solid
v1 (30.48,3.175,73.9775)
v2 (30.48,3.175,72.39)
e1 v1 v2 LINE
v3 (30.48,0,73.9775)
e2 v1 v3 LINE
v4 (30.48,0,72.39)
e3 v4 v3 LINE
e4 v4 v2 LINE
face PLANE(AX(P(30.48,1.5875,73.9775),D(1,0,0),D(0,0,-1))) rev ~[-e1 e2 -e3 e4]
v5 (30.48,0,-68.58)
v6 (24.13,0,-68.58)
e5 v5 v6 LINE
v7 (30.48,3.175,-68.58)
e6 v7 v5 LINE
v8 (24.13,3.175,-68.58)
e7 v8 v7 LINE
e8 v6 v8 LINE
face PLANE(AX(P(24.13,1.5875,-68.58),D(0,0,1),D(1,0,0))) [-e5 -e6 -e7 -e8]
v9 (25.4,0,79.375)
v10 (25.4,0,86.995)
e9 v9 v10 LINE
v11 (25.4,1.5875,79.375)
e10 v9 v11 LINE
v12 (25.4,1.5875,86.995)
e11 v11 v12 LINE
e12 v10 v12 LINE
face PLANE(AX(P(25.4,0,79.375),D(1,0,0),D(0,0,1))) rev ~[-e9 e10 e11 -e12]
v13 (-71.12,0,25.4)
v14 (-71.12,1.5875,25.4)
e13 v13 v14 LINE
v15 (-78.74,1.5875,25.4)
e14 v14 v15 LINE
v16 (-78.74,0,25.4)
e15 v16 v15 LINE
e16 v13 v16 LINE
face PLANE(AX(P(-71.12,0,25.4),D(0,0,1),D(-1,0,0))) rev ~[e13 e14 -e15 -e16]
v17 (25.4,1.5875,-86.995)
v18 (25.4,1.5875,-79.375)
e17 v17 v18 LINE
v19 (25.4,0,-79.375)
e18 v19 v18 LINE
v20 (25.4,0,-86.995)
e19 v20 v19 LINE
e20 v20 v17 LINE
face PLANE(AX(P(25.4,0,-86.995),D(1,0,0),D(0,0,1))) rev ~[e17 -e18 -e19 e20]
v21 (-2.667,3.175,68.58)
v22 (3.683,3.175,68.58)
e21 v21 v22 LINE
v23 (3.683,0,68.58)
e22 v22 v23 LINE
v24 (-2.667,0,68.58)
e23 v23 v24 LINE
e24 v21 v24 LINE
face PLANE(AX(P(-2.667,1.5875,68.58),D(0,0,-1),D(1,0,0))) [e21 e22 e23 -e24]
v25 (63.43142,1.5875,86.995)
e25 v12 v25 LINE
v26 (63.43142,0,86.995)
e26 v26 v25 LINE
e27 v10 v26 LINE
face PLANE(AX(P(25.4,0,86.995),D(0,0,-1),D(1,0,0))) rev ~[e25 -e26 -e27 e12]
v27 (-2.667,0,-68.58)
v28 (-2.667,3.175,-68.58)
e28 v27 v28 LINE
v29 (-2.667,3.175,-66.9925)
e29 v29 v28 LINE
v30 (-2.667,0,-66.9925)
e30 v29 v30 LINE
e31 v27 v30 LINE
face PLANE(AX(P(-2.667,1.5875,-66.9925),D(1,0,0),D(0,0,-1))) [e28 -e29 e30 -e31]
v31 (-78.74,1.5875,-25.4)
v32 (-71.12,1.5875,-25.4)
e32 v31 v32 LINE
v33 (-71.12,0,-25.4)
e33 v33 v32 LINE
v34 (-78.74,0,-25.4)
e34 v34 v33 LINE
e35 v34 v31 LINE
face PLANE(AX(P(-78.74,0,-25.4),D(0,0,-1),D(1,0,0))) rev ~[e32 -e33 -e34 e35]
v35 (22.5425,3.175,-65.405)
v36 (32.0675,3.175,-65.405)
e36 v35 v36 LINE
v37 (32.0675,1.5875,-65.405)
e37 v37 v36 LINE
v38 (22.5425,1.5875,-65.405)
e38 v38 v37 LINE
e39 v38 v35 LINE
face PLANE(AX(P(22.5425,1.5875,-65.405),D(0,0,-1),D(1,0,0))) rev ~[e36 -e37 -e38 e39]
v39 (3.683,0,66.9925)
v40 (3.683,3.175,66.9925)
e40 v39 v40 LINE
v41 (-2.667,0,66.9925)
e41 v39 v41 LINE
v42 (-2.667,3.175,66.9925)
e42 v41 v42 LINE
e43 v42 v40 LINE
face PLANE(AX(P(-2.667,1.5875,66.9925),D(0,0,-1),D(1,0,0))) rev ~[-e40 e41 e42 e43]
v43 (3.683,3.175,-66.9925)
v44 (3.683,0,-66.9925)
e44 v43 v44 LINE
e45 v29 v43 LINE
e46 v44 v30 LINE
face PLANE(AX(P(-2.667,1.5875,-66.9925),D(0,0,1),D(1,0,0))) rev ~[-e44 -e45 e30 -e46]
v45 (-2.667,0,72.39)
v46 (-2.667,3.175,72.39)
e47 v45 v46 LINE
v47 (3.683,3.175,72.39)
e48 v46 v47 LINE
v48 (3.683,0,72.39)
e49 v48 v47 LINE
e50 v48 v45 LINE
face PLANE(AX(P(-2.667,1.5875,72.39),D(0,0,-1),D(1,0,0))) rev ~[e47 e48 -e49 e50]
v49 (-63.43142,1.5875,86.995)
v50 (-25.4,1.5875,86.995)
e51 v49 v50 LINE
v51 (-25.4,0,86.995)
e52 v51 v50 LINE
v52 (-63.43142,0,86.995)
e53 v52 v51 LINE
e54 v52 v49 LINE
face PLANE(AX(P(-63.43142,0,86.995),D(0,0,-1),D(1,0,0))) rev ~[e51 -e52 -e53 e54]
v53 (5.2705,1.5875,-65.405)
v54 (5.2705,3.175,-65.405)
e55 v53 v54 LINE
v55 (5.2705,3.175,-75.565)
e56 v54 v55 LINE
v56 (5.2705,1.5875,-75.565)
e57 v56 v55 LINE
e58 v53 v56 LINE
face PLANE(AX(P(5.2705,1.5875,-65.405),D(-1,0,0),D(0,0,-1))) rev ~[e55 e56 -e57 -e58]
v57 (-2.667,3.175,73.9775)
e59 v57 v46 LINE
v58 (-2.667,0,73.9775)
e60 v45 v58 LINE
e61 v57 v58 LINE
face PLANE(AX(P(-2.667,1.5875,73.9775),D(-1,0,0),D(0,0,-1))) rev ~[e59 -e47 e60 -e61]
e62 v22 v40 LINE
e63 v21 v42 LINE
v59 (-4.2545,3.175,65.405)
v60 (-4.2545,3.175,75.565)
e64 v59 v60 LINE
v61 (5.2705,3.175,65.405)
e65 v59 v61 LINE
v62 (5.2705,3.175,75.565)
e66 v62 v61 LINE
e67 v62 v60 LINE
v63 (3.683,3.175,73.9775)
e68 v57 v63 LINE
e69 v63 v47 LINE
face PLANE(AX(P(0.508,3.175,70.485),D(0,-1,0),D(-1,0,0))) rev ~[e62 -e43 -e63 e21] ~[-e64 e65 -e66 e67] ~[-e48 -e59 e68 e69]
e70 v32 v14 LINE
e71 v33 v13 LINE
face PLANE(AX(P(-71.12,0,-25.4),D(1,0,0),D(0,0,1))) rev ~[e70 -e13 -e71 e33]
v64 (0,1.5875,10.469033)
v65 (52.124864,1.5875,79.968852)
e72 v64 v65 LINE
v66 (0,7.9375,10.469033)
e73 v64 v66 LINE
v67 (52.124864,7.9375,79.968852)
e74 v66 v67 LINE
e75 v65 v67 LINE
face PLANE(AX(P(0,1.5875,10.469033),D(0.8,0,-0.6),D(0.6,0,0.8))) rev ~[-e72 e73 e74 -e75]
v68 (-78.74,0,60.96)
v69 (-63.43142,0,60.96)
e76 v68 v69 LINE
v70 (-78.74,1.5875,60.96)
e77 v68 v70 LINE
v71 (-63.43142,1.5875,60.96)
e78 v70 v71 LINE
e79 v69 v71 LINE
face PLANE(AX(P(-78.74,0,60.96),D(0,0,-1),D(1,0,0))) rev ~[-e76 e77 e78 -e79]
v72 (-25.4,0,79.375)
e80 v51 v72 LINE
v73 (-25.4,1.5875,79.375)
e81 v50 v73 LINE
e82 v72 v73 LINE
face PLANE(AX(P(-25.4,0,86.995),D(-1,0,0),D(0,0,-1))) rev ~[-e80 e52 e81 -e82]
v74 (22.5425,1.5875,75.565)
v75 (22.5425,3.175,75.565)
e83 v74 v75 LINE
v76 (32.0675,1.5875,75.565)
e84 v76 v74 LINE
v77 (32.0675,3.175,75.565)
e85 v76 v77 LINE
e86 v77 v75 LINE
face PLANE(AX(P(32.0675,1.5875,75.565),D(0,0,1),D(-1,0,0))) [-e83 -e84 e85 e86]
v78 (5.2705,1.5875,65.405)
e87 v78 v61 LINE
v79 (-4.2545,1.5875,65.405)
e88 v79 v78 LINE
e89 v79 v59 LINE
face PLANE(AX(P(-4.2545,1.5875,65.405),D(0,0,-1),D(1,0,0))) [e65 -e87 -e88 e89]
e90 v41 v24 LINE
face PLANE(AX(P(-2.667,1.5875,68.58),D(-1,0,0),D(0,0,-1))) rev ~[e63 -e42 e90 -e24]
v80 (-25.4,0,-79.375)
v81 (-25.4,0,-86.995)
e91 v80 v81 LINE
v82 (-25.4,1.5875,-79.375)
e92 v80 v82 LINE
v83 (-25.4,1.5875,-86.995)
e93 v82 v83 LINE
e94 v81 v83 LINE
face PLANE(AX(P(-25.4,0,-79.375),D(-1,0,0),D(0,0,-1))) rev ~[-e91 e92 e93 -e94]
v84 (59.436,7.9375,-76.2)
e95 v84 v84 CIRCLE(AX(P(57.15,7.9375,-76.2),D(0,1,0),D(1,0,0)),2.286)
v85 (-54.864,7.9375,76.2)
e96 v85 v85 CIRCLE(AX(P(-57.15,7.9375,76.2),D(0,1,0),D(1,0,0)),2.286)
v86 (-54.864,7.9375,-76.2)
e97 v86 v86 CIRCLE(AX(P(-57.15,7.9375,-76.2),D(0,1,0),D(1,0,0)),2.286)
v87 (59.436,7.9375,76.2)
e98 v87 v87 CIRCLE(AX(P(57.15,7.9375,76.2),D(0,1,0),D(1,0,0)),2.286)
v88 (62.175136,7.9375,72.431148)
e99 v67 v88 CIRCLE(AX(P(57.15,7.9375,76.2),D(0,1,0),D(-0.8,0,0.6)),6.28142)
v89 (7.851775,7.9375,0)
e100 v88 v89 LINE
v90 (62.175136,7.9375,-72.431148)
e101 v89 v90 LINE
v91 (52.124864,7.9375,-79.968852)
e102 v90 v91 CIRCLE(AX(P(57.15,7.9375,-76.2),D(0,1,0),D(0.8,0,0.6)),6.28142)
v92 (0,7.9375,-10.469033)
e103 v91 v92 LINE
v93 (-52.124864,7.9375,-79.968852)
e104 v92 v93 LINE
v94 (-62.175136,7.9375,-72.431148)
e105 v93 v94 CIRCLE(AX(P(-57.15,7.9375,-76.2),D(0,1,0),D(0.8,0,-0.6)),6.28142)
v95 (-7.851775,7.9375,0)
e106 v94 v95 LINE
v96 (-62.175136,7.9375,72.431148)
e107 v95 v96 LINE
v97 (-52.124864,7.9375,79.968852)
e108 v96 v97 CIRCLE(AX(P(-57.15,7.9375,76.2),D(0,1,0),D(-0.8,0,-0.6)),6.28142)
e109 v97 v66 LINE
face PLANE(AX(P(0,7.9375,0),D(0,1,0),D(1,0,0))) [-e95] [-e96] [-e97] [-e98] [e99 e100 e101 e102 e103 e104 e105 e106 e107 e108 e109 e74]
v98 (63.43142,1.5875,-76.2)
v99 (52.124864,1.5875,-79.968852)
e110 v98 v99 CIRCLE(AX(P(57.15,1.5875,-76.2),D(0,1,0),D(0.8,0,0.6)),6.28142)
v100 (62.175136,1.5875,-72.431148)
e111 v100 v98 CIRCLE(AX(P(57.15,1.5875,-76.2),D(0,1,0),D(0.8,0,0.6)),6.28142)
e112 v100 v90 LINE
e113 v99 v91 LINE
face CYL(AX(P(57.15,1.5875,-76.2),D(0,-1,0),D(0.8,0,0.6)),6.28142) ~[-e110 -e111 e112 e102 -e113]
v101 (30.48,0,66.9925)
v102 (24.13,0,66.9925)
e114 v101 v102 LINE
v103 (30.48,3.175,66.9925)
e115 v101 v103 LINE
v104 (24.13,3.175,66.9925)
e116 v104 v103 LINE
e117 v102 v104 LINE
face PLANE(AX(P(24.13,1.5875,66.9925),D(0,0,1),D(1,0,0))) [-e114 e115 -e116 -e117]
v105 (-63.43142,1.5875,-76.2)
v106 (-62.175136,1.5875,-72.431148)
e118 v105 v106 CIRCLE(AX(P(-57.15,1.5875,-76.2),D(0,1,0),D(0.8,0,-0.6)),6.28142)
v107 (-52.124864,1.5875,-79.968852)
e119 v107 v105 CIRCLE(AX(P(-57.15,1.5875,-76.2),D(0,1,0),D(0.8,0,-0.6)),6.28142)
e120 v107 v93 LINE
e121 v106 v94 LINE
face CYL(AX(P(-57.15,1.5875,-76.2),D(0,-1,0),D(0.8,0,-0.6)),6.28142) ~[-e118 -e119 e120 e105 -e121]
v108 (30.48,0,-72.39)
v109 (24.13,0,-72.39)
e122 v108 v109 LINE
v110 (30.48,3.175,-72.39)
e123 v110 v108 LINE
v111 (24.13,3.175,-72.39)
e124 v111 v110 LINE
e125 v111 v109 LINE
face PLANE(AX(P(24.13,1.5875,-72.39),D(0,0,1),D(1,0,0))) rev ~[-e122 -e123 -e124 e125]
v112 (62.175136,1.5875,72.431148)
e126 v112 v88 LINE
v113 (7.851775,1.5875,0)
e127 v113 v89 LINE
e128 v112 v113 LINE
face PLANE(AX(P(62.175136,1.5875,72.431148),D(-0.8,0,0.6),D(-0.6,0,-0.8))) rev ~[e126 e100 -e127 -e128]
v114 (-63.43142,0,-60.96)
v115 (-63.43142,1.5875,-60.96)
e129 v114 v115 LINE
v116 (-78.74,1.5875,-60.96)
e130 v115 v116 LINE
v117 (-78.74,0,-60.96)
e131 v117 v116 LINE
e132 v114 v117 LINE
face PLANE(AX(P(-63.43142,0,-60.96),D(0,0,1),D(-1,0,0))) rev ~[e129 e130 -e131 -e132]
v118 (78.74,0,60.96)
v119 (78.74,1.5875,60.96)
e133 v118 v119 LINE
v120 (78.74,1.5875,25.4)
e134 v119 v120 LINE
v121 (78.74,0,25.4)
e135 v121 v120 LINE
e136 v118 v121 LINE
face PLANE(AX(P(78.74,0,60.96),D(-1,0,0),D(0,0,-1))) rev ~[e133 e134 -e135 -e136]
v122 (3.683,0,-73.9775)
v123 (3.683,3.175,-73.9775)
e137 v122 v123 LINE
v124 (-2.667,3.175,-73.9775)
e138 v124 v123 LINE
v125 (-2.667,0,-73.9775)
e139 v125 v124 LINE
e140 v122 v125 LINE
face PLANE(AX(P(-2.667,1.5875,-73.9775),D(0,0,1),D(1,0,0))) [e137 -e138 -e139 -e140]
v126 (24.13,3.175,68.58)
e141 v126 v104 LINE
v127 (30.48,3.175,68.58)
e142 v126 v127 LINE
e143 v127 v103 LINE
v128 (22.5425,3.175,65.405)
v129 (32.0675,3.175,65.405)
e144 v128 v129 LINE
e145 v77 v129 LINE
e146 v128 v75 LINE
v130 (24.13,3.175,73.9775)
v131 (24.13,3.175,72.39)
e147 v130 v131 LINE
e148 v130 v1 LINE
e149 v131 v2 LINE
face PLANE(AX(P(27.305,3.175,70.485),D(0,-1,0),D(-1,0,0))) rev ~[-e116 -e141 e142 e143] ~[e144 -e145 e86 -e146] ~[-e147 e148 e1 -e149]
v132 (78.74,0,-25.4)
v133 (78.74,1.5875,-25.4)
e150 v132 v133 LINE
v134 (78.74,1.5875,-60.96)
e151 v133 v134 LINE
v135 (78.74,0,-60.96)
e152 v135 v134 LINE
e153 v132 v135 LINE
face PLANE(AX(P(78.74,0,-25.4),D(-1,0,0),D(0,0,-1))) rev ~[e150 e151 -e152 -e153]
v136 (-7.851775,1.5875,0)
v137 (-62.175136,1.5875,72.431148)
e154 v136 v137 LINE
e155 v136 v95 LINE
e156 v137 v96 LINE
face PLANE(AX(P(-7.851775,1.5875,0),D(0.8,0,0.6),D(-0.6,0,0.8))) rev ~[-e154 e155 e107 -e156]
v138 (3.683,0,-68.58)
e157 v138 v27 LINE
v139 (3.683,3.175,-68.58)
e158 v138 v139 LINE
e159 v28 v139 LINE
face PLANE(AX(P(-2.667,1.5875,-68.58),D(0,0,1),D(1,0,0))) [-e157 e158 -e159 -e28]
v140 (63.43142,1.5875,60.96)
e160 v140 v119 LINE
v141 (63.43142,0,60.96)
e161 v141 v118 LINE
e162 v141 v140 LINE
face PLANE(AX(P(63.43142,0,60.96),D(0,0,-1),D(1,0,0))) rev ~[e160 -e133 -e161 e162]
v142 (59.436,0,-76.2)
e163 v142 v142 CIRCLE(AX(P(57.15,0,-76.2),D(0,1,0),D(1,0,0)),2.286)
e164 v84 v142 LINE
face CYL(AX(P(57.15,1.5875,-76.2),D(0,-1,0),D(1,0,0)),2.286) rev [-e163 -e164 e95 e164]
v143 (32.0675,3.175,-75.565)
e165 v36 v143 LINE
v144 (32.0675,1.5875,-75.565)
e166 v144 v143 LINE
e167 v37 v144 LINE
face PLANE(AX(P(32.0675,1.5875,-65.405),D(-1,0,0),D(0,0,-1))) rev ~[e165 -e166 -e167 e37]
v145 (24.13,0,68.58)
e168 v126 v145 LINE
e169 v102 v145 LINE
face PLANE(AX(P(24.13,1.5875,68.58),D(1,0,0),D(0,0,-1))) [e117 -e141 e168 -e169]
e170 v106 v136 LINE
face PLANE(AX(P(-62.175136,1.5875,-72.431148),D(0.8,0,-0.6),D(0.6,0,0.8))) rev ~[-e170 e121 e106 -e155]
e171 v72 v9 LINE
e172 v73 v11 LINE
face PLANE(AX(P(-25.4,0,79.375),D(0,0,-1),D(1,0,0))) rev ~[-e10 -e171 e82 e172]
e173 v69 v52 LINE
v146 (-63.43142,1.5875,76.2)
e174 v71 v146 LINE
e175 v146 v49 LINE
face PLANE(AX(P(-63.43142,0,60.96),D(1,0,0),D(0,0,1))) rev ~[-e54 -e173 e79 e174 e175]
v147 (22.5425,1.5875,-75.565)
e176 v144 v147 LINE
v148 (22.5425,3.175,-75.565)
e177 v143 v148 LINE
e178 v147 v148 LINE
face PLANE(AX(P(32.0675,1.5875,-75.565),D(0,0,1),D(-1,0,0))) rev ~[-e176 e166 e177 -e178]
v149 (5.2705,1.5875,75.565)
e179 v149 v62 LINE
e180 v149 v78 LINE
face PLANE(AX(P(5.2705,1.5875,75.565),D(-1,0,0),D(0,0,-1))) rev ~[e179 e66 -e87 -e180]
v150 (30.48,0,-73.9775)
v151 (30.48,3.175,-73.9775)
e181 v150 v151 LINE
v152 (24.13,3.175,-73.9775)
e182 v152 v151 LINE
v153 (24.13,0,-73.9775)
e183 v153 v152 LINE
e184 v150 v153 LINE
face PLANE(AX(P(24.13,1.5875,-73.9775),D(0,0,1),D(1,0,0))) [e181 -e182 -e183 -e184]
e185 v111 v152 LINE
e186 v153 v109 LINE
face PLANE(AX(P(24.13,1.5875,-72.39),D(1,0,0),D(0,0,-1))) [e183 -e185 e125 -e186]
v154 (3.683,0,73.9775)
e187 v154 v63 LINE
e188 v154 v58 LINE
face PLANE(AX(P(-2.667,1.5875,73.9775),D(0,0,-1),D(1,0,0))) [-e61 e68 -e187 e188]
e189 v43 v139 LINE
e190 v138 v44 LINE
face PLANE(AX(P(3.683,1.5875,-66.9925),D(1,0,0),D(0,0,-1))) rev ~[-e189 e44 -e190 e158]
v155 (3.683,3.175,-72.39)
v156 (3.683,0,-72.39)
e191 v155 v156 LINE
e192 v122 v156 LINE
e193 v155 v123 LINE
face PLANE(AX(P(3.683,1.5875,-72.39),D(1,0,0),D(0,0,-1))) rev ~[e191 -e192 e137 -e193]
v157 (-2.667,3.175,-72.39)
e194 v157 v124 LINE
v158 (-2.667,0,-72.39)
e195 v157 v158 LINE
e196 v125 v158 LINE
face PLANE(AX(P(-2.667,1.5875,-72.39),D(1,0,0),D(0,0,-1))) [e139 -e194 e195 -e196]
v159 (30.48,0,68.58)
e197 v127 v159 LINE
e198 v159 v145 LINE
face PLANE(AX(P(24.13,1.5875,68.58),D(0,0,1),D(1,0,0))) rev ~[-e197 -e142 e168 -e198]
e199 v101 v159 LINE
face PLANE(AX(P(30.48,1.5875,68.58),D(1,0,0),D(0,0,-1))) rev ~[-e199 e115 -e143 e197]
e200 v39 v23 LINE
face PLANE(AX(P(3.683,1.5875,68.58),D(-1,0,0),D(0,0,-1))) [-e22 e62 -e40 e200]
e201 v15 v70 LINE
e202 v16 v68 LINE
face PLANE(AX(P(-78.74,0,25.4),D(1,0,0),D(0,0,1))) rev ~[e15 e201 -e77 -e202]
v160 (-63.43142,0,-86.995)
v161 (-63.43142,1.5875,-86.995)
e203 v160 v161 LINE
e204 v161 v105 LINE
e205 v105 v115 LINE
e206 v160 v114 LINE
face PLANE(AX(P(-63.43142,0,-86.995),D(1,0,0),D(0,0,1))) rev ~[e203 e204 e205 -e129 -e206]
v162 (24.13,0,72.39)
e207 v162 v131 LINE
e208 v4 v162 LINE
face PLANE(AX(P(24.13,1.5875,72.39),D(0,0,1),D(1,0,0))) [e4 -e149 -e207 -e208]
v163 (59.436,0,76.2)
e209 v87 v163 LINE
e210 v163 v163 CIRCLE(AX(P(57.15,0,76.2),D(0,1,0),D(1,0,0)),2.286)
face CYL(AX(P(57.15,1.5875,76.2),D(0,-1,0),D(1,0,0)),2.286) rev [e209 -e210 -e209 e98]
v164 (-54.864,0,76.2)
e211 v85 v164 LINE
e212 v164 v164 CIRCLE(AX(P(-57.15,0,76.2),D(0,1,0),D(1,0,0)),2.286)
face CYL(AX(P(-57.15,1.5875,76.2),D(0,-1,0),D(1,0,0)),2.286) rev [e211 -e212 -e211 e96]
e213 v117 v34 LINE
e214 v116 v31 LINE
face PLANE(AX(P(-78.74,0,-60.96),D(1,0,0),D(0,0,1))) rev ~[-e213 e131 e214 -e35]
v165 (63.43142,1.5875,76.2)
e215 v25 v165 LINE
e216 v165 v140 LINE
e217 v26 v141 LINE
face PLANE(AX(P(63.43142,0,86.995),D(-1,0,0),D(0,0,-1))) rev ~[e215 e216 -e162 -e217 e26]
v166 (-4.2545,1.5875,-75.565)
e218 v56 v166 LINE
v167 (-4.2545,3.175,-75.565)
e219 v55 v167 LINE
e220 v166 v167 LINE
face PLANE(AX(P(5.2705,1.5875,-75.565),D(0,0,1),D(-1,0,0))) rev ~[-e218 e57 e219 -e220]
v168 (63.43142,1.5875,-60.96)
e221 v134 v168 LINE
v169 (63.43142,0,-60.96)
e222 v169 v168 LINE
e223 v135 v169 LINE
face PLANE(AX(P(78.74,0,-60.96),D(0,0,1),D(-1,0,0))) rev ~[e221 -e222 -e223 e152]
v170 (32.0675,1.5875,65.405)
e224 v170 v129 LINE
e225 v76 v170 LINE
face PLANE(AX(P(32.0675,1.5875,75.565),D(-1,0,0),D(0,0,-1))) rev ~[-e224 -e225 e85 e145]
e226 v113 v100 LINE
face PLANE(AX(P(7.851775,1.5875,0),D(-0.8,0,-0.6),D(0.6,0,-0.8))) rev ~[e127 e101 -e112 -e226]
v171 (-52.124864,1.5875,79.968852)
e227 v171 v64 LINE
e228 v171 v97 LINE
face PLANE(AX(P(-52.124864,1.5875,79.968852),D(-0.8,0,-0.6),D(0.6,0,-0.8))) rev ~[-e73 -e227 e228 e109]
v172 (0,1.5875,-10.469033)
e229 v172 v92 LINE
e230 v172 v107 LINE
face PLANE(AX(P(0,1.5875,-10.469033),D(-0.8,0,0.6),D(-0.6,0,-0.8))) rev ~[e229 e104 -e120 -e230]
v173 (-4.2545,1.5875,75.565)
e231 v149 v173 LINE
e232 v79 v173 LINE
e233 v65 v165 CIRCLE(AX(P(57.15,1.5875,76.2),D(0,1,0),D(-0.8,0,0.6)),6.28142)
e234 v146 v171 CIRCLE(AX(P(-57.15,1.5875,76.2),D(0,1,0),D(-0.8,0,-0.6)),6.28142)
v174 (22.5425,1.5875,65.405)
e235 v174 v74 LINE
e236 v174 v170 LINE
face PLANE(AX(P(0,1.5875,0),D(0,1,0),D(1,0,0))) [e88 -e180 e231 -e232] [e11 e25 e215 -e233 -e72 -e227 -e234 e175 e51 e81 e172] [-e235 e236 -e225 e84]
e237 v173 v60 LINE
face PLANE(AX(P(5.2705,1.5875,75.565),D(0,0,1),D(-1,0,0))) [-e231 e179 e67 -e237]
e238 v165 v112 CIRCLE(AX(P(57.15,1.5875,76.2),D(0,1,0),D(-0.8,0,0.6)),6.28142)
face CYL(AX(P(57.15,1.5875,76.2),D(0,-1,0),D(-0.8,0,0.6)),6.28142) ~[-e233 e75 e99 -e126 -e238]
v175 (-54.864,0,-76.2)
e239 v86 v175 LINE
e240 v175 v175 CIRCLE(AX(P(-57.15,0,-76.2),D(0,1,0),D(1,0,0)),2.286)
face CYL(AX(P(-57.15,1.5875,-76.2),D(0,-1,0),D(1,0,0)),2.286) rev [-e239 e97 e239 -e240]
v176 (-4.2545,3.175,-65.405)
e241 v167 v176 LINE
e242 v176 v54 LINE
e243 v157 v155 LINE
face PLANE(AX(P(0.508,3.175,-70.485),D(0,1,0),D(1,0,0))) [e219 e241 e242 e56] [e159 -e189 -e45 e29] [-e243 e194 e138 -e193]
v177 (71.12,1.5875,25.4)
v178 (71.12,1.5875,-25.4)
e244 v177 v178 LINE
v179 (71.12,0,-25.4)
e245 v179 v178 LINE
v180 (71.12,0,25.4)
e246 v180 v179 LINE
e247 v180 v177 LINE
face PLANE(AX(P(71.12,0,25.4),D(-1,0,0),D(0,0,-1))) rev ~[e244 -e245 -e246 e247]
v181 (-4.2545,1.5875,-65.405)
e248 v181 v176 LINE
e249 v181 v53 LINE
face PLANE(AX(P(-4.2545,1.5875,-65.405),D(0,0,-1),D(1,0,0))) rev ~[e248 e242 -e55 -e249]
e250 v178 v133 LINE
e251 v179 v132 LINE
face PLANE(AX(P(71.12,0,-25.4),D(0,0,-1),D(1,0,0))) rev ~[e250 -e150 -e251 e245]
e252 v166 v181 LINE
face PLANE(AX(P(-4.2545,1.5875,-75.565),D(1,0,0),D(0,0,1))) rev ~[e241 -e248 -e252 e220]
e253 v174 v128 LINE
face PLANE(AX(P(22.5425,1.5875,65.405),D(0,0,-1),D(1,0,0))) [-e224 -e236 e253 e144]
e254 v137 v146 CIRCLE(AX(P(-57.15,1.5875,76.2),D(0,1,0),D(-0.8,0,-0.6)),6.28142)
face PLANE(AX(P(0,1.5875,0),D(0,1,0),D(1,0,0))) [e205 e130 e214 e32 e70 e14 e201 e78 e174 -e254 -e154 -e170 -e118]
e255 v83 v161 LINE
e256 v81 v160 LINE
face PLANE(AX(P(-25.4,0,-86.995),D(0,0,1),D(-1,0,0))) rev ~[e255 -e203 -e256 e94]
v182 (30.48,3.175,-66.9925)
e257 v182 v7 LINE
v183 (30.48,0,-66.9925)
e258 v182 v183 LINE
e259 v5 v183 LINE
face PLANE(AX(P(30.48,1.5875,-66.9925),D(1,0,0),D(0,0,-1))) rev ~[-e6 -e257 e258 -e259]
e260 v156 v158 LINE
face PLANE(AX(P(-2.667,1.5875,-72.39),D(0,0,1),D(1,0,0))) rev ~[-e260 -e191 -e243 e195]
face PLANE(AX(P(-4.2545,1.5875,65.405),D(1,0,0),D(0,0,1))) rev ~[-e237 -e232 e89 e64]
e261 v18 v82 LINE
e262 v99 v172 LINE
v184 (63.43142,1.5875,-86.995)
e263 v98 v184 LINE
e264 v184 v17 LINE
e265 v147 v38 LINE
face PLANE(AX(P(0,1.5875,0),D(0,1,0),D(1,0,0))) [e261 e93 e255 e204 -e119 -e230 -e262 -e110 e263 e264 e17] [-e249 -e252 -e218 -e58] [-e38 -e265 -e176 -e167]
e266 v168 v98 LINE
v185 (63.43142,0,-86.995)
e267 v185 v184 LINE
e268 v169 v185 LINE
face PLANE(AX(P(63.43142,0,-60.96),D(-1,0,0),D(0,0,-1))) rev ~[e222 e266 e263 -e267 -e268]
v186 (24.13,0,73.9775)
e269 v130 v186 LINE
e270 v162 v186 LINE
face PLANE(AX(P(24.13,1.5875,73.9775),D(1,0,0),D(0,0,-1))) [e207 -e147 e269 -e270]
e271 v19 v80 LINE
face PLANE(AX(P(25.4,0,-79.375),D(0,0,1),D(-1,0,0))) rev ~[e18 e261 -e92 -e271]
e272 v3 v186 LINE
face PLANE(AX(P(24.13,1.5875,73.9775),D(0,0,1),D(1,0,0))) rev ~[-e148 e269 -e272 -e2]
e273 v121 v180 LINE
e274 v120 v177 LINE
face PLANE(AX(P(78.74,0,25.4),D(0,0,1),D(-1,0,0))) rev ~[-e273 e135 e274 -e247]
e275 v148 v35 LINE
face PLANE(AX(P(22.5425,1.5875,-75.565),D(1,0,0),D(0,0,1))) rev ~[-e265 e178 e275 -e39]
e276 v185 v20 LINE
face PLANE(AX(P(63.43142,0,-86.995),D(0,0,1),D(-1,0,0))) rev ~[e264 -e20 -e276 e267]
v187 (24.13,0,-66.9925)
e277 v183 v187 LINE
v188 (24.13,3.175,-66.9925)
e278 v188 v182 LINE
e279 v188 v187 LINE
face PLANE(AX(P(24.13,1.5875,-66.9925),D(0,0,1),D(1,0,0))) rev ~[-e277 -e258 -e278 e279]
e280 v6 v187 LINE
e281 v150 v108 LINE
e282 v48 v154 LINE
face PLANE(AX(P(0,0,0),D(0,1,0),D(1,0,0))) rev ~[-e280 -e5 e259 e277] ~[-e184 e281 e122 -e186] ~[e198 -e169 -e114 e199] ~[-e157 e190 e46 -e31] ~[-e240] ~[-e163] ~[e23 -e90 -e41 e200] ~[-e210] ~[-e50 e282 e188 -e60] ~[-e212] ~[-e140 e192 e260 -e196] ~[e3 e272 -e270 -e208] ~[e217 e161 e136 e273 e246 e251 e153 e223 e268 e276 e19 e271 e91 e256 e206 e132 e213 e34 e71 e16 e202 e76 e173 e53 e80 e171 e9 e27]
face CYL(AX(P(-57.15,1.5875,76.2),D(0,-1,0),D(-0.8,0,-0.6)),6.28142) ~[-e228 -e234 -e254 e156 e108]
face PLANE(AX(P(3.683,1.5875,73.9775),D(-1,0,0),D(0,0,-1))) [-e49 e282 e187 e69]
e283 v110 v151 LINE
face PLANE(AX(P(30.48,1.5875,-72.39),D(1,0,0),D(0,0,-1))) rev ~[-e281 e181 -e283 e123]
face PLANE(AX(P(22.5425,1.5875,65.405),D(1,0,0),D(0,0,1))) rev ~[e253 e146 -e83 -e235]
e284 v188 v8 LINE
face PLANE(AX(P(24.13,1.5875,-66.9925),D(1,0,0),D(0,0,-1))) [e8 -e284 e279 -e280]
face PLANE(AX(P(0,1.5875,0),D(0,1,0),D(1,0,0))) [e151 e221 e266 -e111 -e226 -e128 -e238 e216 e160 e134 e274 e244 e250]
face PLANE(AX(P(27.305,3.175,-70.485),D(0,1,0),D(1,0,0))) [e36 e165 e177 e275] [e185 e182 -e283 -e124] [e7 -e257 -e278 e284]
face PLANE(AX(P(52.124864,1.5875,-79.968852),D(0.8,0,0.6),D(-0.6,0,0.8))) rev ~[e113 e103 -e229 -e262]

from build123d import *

# Parameters (mm, degrees)
SKETCH1_R           = 2.286
MAIN_BODY_DEPTH     = 1.5875
SKETCH3_R           = 2.286
BOSS_EXTRUDE1_DEPTH = 6.35
CUT_EXTRUDE2_REACH  = 3.587
SKETCH2_W           = 6.35
SKETCH2_H           = 1.5875
SKETCH5_W           = 6.35
SKETCH5_H           = 1.5875
BOSS_EXTRUDE3_DEPTH = 1.5875


with BuildPart() as part:
    # Sketch1 → Main Body (new body)
    with BuildSketch(Plane(origin=(0, 0, 0), x_dir=(1, 0, 0), z_dir=(0, 1, 0))):
        Polygon((-25.4, 86.995), (-63.43142, 86.995), (-63.43142, 60.96), (-78.74, 60.96), (-78.74, 25.4), (-71.12, 25.4), (-71.12, -25.4), (-78.74, -25.4), (-78.74, -60.96), (-63.43142, -60.96), (-63.43142, -86.995), (-25.4, -86.995), (-25.4, -79.375), (25.4, -79.375), (25.4, -86.995), (63.43142, -86.995), (63.43142, -60.96), (78.74, -60.96), (78.74, -25.4), (71.12, -25.4), (71.12, 25.4), (78.74, 25.4), (78.74, 60.96), (63.43142, 60.96), (63.43142, 86.995), (25.4, 86.995), (25.4, 79.375), (-25.4, 79.375), align=None)
        with Locations((-57.15, 76.2)):
            Circle(SKETCH1_R, mode=Mode.SUBTRACT)
        with Locations((57.15, 76.2)):
            Circle(SKETCH1_R, mode=Mode.SUBTRACT)
        with Locations((57.15, -76.2)):
            Circle(SKETCH1_R, mode=Mode.SUBTRACT)
        with Locations((-57.15, -76.2)):
            Circle(SKETCH1_R, mode=Mode.SUBTRACT)
    extrude(amount=MAIN_BODY_DEPTH)

    # Sketch3 → Boss-Extrude1 (add)
    with BuildSketch(Plane(origin=(0, 1.5875, 0), x_dir=(1, 0, 0), z_dir=(0, 1, 0))):
        with BuildLine():
            Line((62.175136, -72.431148), (7.851775, 0))
            Line((7.851775, 0), (62.175136, 72.431148))
            ThreePointArc((62.175136, 72.431148), (60.918852, 81.225136), (52.124864, 79.968852))
            Line((52.124864, 79.968852), (0, 10.469033333))
            Line((0, 10.469033333), (-52.124864, 79.968852))
            ThreePointArc((-52.124864, 79.968852), (-60.918852, 81.225136), (-62.175136, 72.431148))
            Line((-62.175136, 72.431148), (-7.851775, 0))
            Line((-7.851775, 0), (-62.175136, -72.431148))
            ThreePointArc((-62.175136, -72.431148), (-60.918852, -81.225136), (-52.124864, -79.968852))
            Line((-52.124864, -79.968852), (0, -10.469033333))
            Line((0, -10.469033333), (52.124864, -79.968852))
            ThreePointArc((52.124864, -79.968852), (60.918852, -81.225136), (62.175136, -72.431148))
        make_face()
        with Locations((57.15, 76.2)):
            Circle(SKETCH3_R, mode=Mode.SUBTRACT)
        with Locations((57.15, -76.2)):
            Circle(SKETCH3_R, mode=Mode.SUBTRACT)
        with Locations((-57.15, -76.2)):
            Circle(SKETCH3_R, mode=Mode.SUBTRACT)
        with Locations((-57.15, 76.2)):
            Circle(SKETCH3_R, mode=Mode.SUBTRACT)
    extrude(amount=BOSS_EXTRUDE1_DEPTH)

    # Sketch2 → Cut-Extrude2 (cut, up to next)
    with BuildSketch(Plane(origin=(0, 1.5875, 0), x_dir=(1, 0, 0), z_dir=(0, 1, 0)), mode=Mode.PRIVATE) as cut_extrude2_sk1:
        with Locations((0.508, -67.78625)):
            Rectangle(SKETCH2_W, SKETCH2_H)
    cut_extrude2_tool1 = extrude(cut_extrude2_sk1.sketch, amount=-CUT_EXTRUDE2_REACH, mode=Mode.PRIVATE) & part.part
    add(cut_extrude2_tool1.solids().sort_by_distance((0.508, 1.5875, 67.78625))[0], mode=Mode.SUBTRACT)
    # Sketch2 → Cut-Extrude2 (cut, up to next)
    with BuildSketch(Plane(origin=(0, 1.5875, 0), x_dir=(1, 0, 0), z_dir=(0, 1, 0)), mode=Mode.PRIVATE) as cut_extrude2_sk2:
        with Locations((0.508, -73.18375)):
            Rectangle(SKETCH2_W, SKETCH2_H)
    cut_extrude2_tool2 = extrude(cut_extrude2_sk2.sketch, amount=-CUT_EXTRUDE2_REACH, mode=Mode.PRIVATE) & part.part
    add(cut_extrude2_tool2.solids().sort_by_distance((0.508, 1.5875, 73.18375))[0], mode=Mode.SUBTRACT)
    # Sketch2 → Cut-Extrude2 (cut, up to next)
    with BuildSketch(Plane(origin=(0, 1.5875, 0), x_dir=(1, 0, 0), z_dir=(0, 1, 0)), mode=Mode.PRIVATE) as cut_extrude2_sk3:
        with Locations((27.305, -67.78625)):
            Rectangle(SKETCH2_W, SKETCH2_H)
    cut_extrude2_tool3 = extrude(cut_extrude2_sk3.sketch, amount=-CUT_EXTRUDE2_REACH, mode=Mode.PRIVATE) & part.part
    add(cut_extrude2_tool3.solids().sort_by_distance((27.305, 1.5875, 67.78625))[0], mode=Mode.SUBTRACT)
    # Sketch2 → Cut-Extrude2 (cut, up to next)
    with BuildSketch(Plane(origin=(0, 1.5875, 0), x_dir=(1, 0, 0), z_dir=(0, 1, 0)), mode=Mode.PRIVATE) as cut_extrude2_sk4:
        with Locations((27.305, -73.18375)):
            Rectangle(SKETCH2_W, SKETCH2_H)
    cut_extrude2_tool4 = extrude(cut_extrude2_sk4.sketch, amount=-CUT_EXTRUDE2_REACH, mode=Mode.PRIVATE) & part.part
    add(cut_extrude2_tool4.solids().sort_by_distance((27.305, 1.5875, 73.18375))[0], mode=Mode.SUBTRACT)
    # Sketch2 → Cut-Extrude2 (cut, up to next)
    with BuildSketch(Plane(origin=(0, 1.5875, 0), x_dir=(1, 0, 0), z_dir=(0, 1, 0)), mode=Mode.PRIVATE) as cut_extrude2_sk5:
        with Locations((0.508, 67.78625)):
            Rectangle(SKETCH2_W, SKETCH2_H)
    cut_extrude2_tool5 = extrude(cut_extrude2_sk5.sketch, amount=-CUT_EXTRUDE2_REACH, mode=Mode.PRIVATE) & part.part
    add(cut_extrude2_tool5.solids().sort_by_distance((0.508, 1.5875, -67.78625))[0], mode=Mode.SUBTRACT)
    # Sketch2 → Cut-Extrude2 (cut, up to next)
    with BuildSketch(Plane(origin=(0, 1.5875, 0), x_dir=(1, 0, 0), z_dir=(0, 1, 0)), mode=Mode.PRIVATE) as cut_extrude2_sk6:
        with Locations((0.508, 73.18375)):
            Rectangle(SKETCH2_W, SKETCH2_H)
    cut_extrude2_tool6 = extrude(cut_extrude2_sk6.sketch, amount=-CUT_EXTRUDE2_REACH, mode=Mode.PRIVATE) & part.part
    add(cut_extrude2_tool6.solids().sort_by_distance((0.508, 1.5875, -73.18375))[0], mode=Mode.SUBTRACT)
    # Sketch2 → Cut-Extrude2 (cut, up to next)
    with BuildSketch(Plane(origin=(0, 1.5875, 0), x_dir=(1, 0, 0), z_dir=(0, 1, 0)), mode=Mode.PRIVATE) as cut_extrude2_sk7:
        with Locations((27.305, 73.18375)):
            Rectangle(SKETCH2_W, SKETCH2_H)
    cut_extrude2_tool7 = extrude(cut_extrude2_sk7.sketch, amount=-CUT_EXTRUDE2_REACH, mode=Mode.PRIVATE) & part.part
    add(cut_extrude2_tool7.solids().sort_by_distance((27.305, 1.5875, -73.18375))[0], mode=Mode.SUBTRACT)
    # Sketch2 → Cut-Extrude2 (cut, up to next)
    with BuildSketch(Plane(origin=(0, 1.5875, 0), x_dir=(1, 0, 0), z_dir=(0, 1, 0)), mode=Mode.PRIVATE) as cut_extrude2_sk8:
        with Locations((27.305, 67.78625)):
            Rectangle(SKETCH2_W, SKETCH2_H)
    cut_extrude2_tool8 = extrude(cut_extrude2_sk8.sketch, amount=-CUT_EXTRUDE2_REACH, mode=Mode.PRIVATE) & part.part
    add(cut_extrude2_tool8.solids().sort_by_distance((27.305, 1.5875, -67.78625))[0], mode=Mode.SUBTRACT)

    # Sketch5 → Boss-Extrude3 (add)
    with BuildSketch(Plane(origin=(0, 1.5875, 0), x_dir=(1, 0, 0), z_dir=(0, 1, 0))):
        Polygon((-4.2545, -70.8025), (-4.2545, -70.1675), (-4.2545, -65.405), (5.2705, -65.405), (5.2705, -70.1675), (5.2705, -70.8025), (5.2705, -75.565), (-4.2545, -75.565), align=None)
        with Locations((0.508, -67.78625)):
            Rectangle(SKETCH5_W, SKETCH5_H, mode=Mode.SUBTRACT)
        with Locations((0.508, -73.18375)):
            Rectangle(SKETCH5_W, SKETCH5_H, mode=Mode.SUBTRACT)
        Polygon((22.5425, -70.8025), (22.5425, -70.1675), (22.5425, -65.405), (32.0675, -65.405), (32.0675, -70.1675), (32.0675, -70.8025), (32.0675, -75.565), (22.5425, -75.565), align=None)
        with Locations((27.305, -67.78625)):
            Rectangle(SKETCH5_W, SKETCH5_H, mode=Mode.SUBTRACT)
        with Locations((27.305, -73.18375)):
            Rectangle(SKETCH5_W, SKETCH5_H, mode=Mode.SUBTRACT)
        Polygon((-4.2545, 65.405), (5.2705, 65.405), (5.2705, 70.1675), (5.2705, 70.8025), (5.2705, 75.565), (-4.2545, 75.565), (-4.2545, 70.8025), (-4.2545, 70.1675), align=None)
        with Locations((0.508, 73.18375)):
            Rectangle(SKETCH5_W, SKETCH5_H, mode=Mode.SUBTRACT)
        with Locations((0.508, 67.78625)):
            Rectangle(SKETCH5_W, SKETCH5_H, mode=Mode.SUBTRACT)
        Polygon((22.5425, 65.405), (32.0675, 65.405), (32.0675, 70.1675), (32.0675, 70.8025), (32.0675, 75.565), (22.5425, 75.565), (22.5425, 70.8025), (22.5425, 70.1675), align=None)
        with Locations((27.305, 73.18375)):
            Rectangle(SKETCH5_W, SKETCH5_H, mode=Mode.SUBTRACT)
        with Locations((27.305, 67.78625)):
            Rectangle(SKETCH5_W, SKETCH5_H, mode=Mode.SUBTRACT)
    extrude(amount=BOSS_EXTRUDE3_DEPTH)


solid = part.part
